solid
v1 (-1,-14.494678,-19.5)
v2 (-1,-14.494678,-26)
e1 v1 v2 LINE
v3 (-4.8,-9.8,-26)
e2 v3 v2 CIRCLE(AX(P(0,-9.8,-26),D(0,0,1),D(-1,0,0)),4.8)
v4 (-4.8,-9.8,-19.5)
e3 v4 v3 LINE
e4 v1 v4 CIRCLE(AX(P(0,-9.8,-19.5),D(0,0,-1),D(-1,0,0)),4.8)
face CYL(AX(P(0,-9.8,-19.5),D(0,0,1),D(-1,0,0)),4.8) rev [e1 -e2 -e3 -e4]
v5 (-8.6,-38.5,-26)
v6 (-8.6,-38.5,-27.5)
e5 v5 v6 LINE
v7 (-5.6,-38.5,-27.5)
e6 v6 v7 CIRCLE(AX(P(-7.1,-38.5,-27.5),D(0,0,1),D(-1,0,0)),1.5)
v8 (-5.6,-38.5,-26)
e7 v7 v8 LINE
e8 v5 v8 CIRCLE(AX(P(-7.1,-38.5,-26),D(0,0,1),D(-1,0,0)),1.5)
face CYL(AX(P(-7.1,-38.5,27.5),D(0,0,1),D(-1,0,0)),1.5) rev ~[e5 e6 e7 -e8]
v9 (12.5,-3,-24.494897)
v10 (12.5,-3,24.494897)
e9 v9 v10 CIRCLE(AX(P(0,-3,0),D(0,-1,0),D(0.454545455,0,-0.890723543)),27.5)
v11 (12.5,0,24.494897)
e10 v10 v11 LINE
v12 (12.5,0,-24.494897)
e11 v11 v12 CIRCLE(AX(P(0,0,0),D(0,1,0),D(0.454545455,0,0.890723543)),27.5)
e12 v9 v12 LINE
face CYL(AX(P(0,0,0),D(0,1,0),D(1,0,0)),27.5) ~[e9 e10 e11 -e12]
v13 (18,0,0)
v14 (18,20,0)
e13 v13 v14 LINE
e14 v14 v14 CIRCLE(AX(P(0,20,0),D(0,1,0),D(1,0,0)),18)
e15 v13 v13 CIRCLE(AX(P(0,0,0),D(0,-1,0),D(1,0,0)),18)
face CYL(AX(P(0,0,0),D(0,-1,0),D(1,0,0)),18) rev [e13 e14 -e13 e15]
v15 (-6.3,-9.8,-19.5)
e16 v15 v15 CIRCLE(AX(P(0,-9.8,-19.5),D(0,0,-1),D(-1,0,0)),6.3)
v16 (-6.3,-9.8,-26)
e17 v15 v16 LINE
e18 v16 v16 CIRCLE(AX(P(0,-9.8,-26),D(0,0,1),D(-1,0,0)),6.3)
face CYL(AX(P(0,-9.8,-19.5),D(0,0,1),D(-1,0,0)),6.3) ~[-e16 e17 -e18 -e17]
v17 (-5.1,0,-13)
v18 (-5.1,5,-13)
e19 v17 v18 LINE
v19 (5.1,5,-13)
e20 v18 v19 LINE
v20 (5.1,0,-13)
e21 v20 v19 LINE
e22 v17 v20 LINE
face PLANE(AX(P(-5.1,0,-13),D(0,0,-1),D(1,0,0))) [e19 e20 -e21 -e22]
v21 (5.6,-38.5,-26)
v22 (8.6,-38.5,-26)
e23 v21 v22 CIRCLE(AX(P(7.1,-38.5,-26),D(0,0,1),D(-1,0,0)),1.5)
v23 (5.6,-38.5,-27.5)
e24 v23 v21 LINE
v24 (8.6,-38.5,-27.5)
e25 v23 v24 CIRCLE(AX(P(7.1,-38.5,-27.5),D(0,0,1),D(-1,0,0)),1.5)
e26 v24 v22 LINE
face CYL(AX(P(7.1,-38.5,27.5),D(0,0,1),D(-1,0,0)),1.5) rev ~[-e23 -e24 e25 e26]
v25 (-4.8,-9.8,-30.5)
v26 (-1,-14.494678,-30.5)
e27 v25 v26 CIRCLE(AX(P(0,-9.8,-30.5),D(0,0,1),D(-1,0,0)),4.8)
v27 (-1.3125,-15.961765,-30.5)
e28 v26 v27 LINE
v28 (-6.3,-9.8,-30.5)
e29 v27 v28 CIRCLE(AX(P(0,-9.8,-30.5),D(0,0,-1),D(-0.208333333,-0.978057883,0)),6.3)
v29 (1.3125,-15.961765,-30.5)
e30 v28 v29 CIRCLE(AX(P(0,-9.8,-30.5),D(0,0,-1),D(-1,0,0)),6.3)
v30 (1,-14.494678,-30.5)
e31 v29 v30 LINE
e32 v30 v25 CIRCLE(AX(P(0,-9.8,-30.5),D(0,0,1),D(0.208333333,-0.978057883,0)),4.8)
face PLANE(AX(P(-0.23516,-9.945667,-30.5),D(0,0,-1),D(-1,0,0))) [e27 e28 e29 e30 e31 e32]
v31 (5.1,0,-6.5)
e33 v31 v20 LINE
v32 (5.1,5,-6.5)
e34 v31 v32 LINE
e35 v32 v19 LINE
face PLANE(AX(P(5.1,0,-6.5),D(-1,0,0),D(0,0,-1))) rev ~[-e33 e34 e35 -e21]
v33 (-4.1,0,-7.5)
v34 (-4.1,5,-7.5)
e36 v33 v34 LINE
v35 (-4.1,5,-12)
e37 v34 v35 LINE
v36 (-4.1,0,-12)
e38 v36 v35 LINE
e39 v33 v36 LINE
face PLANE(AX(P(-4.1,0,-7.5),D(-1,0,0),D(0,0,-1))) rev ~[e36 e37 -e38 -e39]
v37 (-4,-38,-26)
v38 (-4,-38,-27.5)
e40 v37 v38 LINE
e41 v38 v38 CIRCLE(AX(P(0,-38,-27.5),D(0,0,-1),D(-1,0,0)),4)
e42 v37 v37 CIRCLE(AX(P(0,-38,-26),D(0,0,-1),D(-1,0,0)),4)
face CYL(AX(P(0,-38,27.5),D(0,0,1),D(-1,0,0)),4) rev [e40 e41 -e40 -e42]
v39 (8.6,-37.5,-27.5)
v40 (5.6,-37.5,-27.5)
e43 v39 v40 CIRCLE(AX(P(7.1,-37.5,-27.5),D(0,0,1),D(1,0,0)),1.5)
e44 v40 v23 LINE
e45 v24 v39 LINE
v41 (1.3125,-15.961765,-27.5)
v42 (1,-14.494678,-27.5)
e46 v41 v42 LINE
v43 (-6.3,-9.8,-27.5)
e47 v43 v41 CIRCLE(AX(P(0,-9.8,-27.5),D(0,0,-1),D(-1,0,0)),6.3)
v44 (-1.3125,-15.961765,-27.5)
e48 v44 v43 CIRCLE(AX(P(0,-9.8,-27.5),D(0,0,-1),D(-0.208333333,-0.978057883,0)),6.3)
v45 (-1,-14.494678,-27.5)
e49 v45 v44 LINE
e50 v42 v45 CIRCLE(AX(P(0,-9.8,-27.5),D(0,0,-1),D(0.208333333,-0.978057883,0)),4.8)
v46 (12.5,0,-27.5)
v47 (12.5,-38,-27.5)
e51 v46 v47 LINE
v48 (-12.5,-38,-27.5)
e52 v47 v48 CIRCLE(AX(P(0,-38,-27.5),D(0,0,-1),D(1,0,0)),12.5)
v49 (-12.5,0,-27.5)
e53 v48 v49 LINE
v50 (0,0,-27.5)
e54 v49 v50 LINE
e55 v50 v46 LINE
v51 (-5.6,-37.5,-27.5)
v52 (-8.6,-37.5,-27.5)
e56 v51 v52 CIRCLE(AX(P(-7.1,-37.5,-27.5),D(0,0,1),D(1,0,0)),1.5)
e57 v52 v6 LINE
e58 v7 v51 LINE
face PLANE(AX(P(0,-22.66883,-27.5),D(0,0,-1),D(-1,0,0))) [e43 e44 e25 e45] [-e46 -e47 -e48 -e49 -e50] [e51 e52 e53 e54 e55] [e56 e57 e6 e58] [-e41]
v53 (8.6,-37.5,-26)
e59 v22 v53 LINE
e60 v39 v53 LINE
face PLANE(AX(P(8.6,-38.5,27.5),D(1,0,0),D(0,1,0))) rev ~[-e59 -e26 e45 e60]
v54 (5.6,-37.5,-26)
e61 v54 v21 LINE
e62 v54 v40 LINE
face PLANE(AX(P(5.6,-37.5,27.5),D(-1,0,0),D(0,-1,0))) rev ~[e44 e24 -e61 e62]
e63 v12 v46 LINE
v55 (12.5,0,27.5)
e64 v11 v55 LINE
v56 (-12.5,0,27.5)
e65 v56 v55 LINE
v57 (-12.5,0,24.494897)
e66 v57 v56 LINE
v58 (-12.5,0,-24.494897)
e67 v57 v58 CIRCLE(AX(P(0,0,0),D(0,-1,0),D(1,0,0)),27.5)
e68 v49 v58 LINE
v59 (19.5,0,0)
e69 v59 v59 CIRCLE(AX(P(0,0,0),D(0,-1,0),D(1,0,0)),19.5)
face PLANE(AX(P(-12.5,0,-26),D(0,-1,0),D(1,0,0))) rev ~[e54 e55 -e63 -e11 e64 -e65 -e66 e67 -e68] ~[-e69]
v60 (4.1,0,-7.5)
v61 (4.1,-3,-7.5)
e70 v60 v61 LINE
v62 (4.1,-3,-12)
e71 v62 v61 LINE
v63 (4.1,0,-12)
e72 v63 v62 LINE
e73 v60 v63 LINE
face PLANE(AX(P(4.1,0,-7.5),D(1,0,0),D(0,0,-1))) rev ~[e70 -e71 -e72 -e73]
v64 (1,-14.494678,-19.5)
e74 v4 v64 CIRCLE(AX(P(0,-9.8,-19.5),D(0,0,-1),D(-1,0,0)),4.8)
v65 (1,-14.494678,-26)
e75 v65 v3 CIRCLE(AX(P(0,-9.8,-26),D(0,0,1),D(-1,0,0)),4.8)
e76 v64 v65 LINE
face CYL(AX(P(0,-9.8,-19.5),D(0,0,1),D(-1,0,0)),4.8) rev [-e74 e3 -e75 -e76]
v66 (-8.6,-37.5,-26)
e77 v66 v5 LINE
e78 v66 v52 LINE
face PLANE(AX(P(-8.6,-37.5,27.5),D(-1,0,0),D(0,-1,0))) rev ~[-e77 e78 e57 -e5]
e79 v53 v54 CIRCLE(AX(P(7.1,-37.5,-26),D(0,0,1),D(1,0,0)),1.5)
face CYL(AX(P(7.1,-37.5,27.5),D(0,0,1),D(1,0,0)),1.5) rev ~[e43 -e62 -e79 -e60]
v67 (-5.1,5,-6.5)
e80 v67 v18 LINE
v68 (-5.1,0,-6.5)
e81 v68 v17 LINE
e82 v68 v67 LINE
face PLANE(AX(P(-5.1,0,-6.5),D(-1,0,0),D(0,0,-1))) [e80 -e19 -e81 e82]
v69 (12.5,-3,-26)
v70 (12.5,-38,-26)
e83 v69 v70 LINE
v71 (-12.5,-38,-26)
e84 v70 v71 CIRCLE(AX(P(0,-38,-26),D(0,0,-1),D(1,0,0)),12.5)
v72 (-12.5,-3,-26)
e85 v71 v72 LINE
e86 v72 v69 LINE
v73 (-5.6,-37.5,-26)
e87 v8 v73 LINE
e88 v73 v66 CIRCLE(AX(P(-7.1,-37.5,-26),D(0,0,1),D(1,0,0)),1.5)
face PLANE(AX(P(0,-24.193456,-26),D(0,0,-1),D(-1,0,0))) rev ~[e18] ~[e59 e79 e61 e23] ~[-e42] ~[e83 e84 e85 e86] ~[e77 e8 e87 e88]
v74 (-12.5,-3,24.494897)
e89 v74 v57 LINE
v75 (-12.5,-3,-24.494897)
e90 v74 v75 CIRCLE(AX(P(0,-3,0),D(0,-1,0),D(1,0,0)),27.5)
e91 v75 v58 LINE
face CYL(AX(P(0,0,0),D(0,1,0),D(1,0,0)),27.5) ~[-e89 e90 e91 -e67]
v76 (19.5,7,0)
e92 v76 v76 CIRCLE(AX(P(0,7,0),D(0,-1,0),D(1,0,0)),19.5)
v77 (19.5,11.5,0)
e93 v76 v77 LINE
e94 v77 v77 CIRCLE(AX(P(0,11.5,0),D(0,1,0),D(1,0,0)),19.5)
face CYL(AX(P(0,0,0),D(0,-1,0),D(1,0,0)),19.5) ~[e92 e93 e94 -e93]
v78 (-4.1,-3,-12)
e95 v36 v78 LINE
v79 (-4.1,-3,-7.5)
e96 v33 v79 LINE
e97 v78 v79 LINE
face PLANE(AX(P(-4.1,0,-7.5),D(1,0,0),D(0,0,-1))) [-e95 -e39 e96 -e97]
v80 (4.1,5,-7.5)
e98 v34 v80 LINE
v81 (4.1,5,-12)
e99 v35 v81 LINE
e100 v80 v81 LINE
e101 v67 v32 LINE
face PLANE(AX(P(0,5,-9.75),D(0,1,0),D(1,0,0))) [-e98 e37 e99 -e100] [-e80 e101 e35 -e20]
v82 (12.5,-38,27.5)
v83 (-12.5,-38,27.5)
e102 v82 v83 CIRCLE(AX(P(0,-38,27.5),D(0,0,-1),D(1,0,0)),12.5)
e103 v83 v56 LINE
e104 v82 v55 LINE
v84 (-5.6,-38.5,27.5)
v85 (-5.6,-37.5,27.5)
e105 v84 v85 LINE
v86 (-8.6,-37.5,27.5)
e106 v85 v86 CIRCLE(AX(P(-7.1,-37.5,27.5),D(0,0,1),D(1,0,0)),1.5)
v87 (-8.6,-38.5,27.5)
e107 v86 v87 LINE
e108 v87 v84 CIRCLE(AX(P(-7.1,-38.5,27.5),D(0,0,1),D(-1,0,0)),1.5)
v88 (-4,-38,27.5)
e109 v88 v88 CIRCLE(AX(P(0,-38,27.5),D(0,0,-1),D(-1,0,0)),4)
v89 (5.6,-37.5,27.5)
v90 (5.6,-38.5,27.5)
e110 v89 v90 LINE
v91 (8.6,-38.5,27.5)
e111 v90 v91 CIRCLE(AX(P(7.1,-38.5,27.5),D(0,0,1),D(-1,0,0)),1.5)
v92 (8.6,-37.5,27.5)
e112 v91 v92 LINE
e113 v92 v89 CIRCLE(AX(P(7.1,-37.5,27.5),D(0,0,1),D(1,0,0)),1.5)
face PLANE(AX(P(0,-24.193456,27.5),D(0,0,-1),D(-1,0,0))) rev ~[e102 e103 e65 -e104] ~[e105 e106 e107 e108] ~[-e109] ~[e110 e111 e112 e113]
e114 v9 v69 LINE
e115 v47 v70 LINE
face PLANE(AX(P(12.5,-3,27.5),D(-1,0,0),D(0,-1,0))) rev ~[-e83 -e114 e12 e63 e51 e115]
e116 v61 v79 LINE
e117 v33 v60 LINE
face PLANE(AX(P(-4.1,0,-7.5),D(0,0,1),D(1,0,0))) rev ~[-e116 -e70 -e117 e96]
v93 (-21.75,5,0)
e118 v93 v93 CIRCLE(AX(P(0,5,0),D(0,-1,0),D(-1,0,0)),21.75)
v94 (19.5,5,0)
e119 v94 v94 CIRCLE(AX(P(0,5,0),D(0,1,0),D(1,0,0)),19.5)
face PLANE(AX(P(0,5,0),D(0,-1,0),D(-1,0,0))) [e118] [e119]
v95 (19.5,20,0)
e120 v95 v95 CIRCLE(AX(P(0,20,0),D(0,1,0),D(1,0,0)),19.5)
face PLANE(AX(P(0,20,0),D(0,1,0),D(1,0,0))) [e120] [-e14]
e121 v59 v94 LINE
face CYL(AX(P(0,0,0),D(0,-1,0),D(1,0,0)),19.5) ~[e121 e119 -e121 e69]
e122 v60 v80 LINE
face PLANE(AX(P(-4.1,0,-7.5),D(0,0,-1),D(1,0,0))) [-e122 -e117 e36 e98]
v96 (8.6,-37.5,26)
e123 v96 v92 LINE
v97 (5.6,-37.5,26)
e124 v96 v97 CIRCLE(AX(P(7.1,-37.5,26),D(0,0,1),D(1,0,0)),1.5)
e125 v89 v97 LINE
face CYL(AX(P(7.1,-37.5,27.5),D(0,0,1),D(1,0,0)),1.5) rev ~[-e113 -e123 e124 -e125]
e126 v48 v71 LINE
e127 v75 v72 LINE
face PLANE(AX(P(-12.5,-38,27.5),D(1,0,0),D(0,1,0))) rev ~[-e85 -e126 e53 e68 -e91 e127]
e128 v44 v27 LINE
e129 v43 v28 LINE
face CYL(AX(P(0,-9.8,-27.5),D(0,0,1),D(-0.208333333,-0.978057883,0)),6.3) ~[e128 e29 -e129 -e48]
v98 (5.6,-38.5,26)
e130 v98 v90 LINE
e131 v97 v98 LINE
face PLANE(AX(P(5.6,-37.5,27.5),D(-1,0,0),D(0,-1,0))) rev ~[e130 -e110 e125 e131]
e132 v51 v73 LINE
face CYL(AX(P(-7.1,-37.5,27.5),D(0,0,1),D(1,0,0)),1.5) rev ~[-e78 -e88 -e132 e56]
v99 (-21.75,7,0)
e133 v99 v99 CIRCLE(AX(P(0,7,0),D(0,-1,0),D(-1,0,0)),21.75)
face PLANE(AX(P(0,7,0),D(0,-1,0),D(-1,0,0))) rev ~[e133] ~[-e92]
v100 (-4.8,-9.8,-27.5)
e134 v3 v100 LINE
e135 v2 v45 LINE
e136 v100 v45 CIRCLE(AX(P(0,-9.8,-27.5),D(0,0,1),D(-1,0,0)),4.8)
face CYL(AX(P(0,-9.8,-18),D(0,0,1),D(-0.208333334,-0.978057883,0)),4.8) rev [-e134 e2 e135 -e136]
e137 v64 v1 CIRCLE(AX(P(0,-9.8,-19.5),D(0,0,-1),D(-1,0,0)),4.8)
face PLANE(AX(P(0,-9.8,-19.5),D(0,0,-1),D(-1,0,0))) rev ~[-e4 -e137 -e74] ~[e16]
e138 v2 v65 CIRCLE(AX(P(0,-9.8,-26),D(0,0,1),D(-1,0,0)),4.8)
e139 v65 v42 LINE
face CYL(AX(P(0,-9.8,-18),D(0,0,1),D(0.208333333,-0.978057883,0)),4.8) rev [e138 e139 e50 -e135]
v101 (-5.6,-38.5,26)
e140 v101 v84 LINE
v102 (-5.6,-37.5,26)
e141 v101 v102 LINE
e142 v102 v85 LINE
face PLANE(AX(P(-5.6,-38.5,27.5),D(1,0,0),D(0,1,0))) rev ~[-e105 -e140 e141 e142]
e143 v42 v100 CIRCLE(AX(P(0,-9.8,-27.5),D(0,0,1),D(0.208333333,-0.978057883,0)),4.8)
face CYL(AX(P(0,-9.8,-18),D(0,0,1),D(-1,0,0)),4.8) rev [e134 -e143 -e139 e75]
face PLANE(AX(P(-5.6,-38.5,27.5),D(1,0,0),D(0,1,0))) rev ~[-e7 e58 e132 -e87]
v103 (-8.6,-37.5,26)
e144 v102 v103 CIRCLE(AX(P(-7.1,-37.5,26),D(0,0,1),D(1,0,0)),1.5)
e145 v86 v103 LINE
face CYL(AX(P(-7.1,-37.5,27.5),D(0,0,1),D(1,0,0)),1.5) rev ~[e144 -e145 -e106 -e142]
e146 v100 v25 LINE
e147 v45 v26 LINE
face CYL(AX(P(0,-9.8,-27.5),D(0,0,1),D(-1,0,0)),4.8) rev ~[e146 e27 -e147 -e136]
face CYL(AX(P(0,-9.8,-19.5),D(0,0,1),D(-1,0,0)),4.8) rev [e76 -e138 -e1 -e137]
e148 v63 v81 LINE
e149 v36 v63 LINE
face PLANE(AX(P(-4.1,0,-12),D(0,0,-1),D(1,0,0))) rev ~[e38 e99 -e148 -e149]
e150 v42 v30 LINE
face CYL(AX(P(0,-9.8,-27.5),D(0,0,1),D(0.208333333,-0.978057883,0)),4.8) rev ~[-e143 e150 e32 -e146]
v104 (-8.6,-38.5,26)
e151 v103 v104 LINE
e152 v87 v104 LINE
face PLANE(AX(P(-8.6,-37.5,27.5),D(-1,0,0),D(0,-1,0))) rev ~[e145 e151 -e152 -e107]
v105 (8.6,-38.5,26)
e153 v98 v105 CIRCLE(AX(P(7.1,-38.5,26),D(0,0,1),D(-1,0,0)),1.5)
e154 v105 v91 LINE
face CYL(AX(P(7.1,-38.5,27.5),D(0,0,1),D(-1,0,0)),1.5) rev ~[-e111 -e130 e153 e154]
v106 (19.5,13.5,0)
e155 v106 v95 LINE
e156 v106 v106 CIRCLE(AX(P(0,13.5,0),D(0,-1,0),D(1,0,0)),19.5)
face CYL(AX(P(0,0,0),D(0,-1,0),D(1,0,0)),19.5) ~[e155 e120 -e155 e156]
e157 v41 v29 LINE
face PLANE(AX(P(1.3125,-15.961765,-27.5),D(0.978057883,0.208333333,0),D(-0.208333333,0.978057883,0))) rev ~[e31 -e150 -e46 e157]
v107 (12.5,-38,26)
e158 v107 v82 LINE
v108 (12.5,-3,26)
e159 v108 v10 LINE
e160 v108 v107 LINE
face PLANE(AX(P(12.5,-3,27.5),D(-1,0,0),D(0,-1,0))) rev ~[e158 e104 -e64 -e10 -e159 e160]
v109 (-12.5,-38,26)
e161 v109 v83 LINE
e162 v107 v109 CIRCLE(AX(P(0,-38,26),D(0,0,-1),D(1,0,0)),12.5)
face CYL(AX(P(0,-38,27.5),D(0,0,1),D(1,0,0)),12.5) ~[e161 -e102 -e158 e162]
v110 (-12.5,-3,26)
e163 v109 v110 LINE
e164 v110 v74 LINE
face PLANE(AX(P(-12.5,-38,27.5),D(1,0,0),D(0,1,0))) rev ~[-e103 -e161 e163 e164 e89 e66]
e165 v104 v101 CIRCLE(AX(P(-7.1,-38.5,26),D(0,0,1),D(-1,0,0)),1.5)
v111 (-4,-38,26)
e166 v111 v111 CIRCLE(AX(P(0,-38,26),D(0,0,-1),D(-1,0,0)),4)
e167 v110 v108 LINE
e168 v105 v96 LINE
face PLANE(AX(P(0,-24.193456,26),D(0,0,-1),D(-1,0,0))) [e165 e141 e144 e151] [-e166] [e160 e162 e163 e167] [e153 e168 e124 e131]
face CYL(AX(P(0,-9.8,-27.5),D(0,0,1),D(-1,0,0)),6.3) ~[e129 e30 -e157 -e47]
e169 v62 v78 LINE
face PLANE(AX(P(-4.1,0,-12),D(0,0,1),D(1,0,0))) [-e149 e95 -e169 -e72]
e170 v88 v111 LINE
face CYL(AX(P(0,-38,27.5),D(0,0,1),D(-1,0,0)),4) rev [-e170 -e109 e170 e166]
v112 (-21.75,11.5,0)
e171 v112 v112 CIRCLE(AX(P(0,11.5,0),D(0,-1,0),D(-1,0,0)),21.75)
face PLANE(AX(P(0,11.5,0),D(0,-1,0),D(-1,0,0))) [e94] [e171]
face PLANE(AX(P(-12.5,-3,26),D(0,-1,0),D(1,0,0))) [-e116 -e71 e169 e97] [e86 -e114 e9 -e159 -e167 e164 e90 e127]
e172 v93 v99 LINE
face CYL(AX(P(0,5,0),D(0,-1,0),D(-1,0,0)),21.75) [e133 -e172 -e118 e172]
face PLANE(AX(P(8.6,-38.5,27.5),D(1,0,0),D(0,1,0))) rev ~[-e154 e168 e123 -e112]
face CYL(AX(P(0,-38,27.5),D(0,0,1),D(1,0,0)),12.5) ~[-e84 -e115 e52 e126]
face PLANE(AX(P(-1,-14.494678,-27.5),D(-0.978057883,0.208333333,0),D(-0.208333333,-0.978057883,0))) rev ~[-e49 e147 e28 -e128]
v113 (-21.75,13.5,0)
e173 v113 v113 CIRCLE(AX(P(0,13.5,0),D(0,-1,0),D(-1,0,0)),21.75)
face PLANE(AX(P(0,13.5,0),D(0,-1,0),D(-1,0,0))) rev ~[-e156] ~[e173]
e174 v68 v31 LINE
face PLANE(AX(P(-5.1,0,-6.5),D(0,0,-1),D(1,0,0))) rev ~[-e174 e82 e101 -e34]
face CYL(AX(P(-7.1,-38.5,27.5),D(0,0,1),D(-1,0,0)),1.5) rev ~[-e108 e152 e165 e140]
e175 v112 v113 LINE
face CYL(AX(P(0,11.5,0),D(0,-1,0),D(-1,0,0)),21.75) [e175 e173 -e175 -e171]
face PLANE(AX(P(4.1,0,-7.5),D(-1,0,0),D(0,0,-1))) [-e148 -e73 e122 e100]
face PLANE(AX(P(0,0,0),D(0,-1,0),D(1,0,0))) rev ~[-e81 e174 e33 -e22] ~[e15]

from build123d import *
from build123d.topology import SkipClean

# Parameters (mm, degrees)
SKETCH_1_R           = 19.5
SKETCH_1_R_2         = 18
EXTRUDE_1_DEPTH      = 20
SKETCH_3_R           = 27.5
EXTRUDE_2_DEPTH      = 3
EXTRUDE_START        = 2
SKETCH_25_R          = 21.75
SKETCH_25_R_2        = 19.5
EXTRUDE_12_DEPTH     = 2
EXTRUDE_START_2      = -1
SKETCH_26_R          = 21.75
SKETCH_26_R_2        = 19.5
EXTRUDE_13_DEPTH     = 2
SKETCH_27_W          = 25
SKETCH_27_H          = 53.5
EXTRUDE_14_DEPTH     = 3
SKETCH_28_R          = 4
EXTRUDE_17_DEPTH     = 1.5
EXTRUDE_START_3      = -53.5
SKETCH_28_25_R       = 4
EXTRUDE_25_DEPTH     = 53.5
CUT_EXTRUDE_START    = -52
SKETCH_28_27_R       = 4
CUT_EXTRUDE_15_DEPTH = 52
EXTRUDE_24_DEPTH     = 3
EXTRUDE_START_4      = -8
SKETCH_38_R          = 6.3
SKETCH_38_R_2        = 4.8
EXTRUDE_23_DEPTH     = 8
CUT_EXTRUDE_START_2  = -9.5
CUT_EXTRUDE_10_DEPTH = 9.5
SKETCH_34_W          = 10.2
SKETCH_34_H          = 6.5
SKETCH_34_W_2        = 8.2
SKETCH_34_H_2        = 4.5
EXTRUDE_22_DEPTH     = 5
SKETCH_37_W          = 8.2
SKETCH_37_H          = 4.5
CUT_EXTRUDE_9_DEPTH  = 5


with BuildPart() as part:
    # 草圖1 → 填料-伸長1 (new body)
    with BuildSketch(Plane(origin=(0, 0, 0), x_dir=(1, 0, 0), z_dir=(0, 1, 0))):
        Circle(SKETCH_1_R)
        Circle(SKETCH_1_R_2, mode=Mode.SUBTRACT)
    extrude(amount=EXTRUDE_1_DEPTH)

    # 草圖3 → 填料-伸長2 (add)
    with BuildSketch(Plane.XZ):
        Circle(SKETCH_3_R)
    extrude(amount=EXTRUDE_2_DEPTH)

    # 草圖25 → 填料-伸長12 (add)
    with BuildSketch(Plane(origin=(0, 7, 0), x_dir=(-1, 0, 0), z_dir=(0, -1, 0)).offset(EXTRUDE_START)):
        Circle(SKETCH_25_R)
        Circle(SKETCH_25_R_2, mode=Mode.SUBTRACT)
    extrude(amount=-EXTRUDE_12_DEPTH)

    # 草圖26 → 填料-伸長13 (add)
    with BuildSketch(Plane(origin=(0, 10.5, 0), x_dir=(-1, 0, 0), z_dir=(0, -1, 0)).offset(EXTRUDE_START_2)):
        Circle(SKETCH_26_R)
        Circle(SKETCH_26_R_2, mode=Mode.SUBTRACT)
    extrude(amount=-EXTRUDE_13_DEPTH)

    # 草圖27 → 填料-伸長14 (add)
    with BuildSketch(Plane.XZ.offset(3)):
        with Locations((0, 0.75)):
            Rectangle(SKETCH_27_W, SKETCH_27_H)
    extrude(amount=-EXTRUDE_14_DEPTH)

    # 草圖28 → 填料-伸長17 (add)
    with BuildSketch(Plane(origin=(0, 0, -26), x_dir=(-1, 0, 0), z_dir=(0, 0, -1))):
        with BuildLine():
            Line((12.5, 0), (-12.5, 0))
            Line((-12.5, 0), (-12.5, -38))
            ThreePointArc((-12.5, -38), (0, -50.5), (12.5, -38))
            Line((12.5, -38), (12.5, 0))
        make_face()
        with BuildLine():
            Line((8.6, -37.5), (8.6, -38.5))
            ThreePointArc((8.6, -38.5), (7.1, -40), (5.6, -38.5))
            Line((5.6, -38.5), (5.6, -37.5))
            ThreePointArc((5.6, -37.5), (7.1, -36), (8.6, -37.5))
        make_face(mode=Mode.SUBTRACT)
        with Locations((0, -38)):
            Circle(SKETCH_28_R, mode=Mode.SUBTRACT)
        with BuildLine():
            Line((-5.6, -37.5), (-5.6, -38.5))
            ThreePointArc((-5.6, -38.5), (-7.1, -40), (-8.6, -38.5))
            Line((-8.6, -38.5), (-8.6, -37.5))
            ThreePointArc((-8.6, -37.5), (-7.1, -36), (-5.6, -37.5))
        make_face(mode=Mode.SUBTRACT)
    extrude(amount=EXTRUDE_17_DEPTH)

    # 草圖28<25> → 填料-伸長25 (add)
    with BuildSketch(Plane(origin=(0, 0, -26), x_dir=(-1, 0, 0), z_dir=(0, 0, -1)).offset(EXTRUDE_START_3)):
        with BuildLine():
            Line((12.5, -38), (12.5, -3))
            Line((12.5, -3), (-12.5, -3))
            Line((-12.5, -3), (-12.5, -38))
            ThreePointArc((-12.5, -38), (0, -50.5), (12.5, -38))
        make_face()
        with BuildLine():
            Line((8.6, -37.5), (8.6, -38.5))
            ThreePointArc((8.6, -38.5), (7.1, -40), (5.6, -38.5))
            Line((5.6, -38.5), (5.6, -37.5))
            ThreePointArc((5.6, -37.5), (7.1, -36), (8.6, -37.5))
        make_face(mode=Mode.SUBTRACT)
        with Locations((0, -38)):
            Circle(SKETCH_28_25_R, mode=Mode.SUBTRACT)
        with BuildLine():
            Line((-5.6, -37.5), (-5.6, -38.5))
            ThreePointArc((-5.6, -38.5), (-7.1, -40), (-8.6, -38.5))
            Line((-8.6, -38.5), (-8.6, -37.5))
            ThreePointArc((-8.6, -37.5), (-7.1, -36), (-5.6, -37.5))
        make_face(mode=Mode.SUBTRACT)
    extrude(amount=EXTRUDE_25_DEPTH)

    # 草圖28<27> → 除料-伸長15 (cut)
    with BuildSketch(Plane(origin=(0, 0, -26), x_dir=(-1, 0, 0), z_dir=(0, 0, -1)).offset(CUT_EXTRUDE_START)):
        with BuildLine():
            Line((12.5, -38), (12.5, -3))
            Line((12.5, -3), (-12.5, -3))
            Line((-12.5, -3), (-12.5, -38))
            ThreePointArc((-12.5, -38), (0, -50.5), (12.5, -38))
        make_face()
        with BuildLine():
            Line((8.6, -37.5), (8.6, -38.5))
            ThreePointArc((8.6, -38.5), (7.1, -40), (5.6, -38.5))
            Line((5.6, -38.5), (5.6, -37.5))
            ThreePointArc((5.6, -37.5), (7.1, -36), (8.6, -37.5))
        make_face(mode=Mode.SUBTRACT)
        with Locations((0, -38)):
            Circle(SKETCH_28_27_R, mode=Mode.SUBTRACT)
        with BuildLine():
            Line((-5.6, -37.5), (-5.6, -38.5))
            ThreePointArc((-5.6, -38.5), (-7.1, -40), (-8.6, -38.5))
            Line((-8.6, -38.5), (-8.6, -37.5))
            ThreePointArc((-8.6, -37.5), (-7.1, -36), (-5.6, -37.5))
        make_face(mode=Mode.SUBTRACT)
    extrude(amount=CUT_EXTRUDE_15_DEPTH, mode=Mode.SUBTRACT)

    # 草圖38<4> → 填料-伸長24 (add)
    with BuildSketch(Plane(origin=(0, 0, -27.5), x_dir=(-1, 0, 0), z_dir=(0, 0, -1))):
        with BuildLine():
            Line((-1.3125, -15.961764662), (-1, -14.494677838))
            ThreePointArc((-1, -14.494677838), (-3.019933774, -6.069048379), (4.8, -9.8))
            ThreePointArc((4.8, -9.8), (3.730951621, -12.819933774), (1, -14.494677838))
            Line((1, -14.494677838), (1.3125, -15.961764662))
            ThreePointArc((1.3125, -15.961764662), (4.896874003, -13.763663079), (6.3, -9.8))
            ThreePointArc((6.3, -9.8), (-3.963663079, -4.903125997), (-1.3125, -15.961764662))
        make_face()
    extrude(amount=EXTRUDE_24_DEPTH)

    # 草圖38 → 填料-伸長23 (add)
    with BuildSketch(Plane(origin=(0, 0, -27.5), x_dir=(-1, 0, 0), z_dir=(0, 0, -1)).offset(EXTRUDE_START_4)):
        with Locations((0, -9.8)):
            Circle(SKETCH_38_R)
        with Locations((0, -9.8)):
            Circle(SKETCH_38_R_2, mode=Mode.SUBTRACT)
    extrude(amount=EXTRUDE_23_DEPTH)

    # 草圖38<3> → 除料-伸長10 (cut)
    with SkipClean():  # the faces are left unmerged after this step: merging them gives an invalid solid
        with BuildSketch(Plane(origin=(0, 0, -27.5), x_dir=(-1, 0, 0), z_dir=(0, 0, -1)).offset(CUT_EXTRUDE_START_2)):
            with BuildLine():
                ThreePointArc((4.8, -9.8), (-3.019933774, -6.069048379), (-1, -14.494677838))
                ThreePointArc((-1, -14.494677838), (0, -14.6), (1, -14.494677838))
                ThreePointArc((1, -14.494677838), (3.730951621, -12.819933774), (4.8, -9.8))
            make_face()
        extrude(amount=CUT_EXTRUDE_10_DEPTH, mode=Mode.SUBTRACT)

    # 草圖34 → 填料-伸長22 (add)
    with SkipClean():  # the faces are left unmerged after this step: merging them gives an invalid solid
        with BuildSketch(Plane(origin=(0, 0, 0), x_dir=(1, 0, 0), z_dir=(0, 1, 0))):
            with Locations((0, 9.75)):
                Rectangle(SKETCH_34_W, SKETCH_34_H)
            with Locations((0, 9.75)):
                Rectangle(SKETCH_34_W_2, SKETCH_34_H_2, mode=Mode.SUBTRACT)
        extrude(amount=EXTRUDE_22_DEPTH)

    # 草圖37 → 除料-伸長9 (cut)
    with SkipClean():  # the faces are left unmerged after this step: merging them gives an invalid solid
        with BuildSketch(Plane(origin=(0, 0, 0), x_dir=(1, 0, 0), z_dir=(0, 1, 0))):
            with Locations((0, 9.75)):
                Rectangle(SKETCH_37_W, SKETCH_37_H)
        extrude(amount=-CUT_EXTRUDE_9_DEPTH, mode=Mode.SUBTRACT)


solid = part.part
